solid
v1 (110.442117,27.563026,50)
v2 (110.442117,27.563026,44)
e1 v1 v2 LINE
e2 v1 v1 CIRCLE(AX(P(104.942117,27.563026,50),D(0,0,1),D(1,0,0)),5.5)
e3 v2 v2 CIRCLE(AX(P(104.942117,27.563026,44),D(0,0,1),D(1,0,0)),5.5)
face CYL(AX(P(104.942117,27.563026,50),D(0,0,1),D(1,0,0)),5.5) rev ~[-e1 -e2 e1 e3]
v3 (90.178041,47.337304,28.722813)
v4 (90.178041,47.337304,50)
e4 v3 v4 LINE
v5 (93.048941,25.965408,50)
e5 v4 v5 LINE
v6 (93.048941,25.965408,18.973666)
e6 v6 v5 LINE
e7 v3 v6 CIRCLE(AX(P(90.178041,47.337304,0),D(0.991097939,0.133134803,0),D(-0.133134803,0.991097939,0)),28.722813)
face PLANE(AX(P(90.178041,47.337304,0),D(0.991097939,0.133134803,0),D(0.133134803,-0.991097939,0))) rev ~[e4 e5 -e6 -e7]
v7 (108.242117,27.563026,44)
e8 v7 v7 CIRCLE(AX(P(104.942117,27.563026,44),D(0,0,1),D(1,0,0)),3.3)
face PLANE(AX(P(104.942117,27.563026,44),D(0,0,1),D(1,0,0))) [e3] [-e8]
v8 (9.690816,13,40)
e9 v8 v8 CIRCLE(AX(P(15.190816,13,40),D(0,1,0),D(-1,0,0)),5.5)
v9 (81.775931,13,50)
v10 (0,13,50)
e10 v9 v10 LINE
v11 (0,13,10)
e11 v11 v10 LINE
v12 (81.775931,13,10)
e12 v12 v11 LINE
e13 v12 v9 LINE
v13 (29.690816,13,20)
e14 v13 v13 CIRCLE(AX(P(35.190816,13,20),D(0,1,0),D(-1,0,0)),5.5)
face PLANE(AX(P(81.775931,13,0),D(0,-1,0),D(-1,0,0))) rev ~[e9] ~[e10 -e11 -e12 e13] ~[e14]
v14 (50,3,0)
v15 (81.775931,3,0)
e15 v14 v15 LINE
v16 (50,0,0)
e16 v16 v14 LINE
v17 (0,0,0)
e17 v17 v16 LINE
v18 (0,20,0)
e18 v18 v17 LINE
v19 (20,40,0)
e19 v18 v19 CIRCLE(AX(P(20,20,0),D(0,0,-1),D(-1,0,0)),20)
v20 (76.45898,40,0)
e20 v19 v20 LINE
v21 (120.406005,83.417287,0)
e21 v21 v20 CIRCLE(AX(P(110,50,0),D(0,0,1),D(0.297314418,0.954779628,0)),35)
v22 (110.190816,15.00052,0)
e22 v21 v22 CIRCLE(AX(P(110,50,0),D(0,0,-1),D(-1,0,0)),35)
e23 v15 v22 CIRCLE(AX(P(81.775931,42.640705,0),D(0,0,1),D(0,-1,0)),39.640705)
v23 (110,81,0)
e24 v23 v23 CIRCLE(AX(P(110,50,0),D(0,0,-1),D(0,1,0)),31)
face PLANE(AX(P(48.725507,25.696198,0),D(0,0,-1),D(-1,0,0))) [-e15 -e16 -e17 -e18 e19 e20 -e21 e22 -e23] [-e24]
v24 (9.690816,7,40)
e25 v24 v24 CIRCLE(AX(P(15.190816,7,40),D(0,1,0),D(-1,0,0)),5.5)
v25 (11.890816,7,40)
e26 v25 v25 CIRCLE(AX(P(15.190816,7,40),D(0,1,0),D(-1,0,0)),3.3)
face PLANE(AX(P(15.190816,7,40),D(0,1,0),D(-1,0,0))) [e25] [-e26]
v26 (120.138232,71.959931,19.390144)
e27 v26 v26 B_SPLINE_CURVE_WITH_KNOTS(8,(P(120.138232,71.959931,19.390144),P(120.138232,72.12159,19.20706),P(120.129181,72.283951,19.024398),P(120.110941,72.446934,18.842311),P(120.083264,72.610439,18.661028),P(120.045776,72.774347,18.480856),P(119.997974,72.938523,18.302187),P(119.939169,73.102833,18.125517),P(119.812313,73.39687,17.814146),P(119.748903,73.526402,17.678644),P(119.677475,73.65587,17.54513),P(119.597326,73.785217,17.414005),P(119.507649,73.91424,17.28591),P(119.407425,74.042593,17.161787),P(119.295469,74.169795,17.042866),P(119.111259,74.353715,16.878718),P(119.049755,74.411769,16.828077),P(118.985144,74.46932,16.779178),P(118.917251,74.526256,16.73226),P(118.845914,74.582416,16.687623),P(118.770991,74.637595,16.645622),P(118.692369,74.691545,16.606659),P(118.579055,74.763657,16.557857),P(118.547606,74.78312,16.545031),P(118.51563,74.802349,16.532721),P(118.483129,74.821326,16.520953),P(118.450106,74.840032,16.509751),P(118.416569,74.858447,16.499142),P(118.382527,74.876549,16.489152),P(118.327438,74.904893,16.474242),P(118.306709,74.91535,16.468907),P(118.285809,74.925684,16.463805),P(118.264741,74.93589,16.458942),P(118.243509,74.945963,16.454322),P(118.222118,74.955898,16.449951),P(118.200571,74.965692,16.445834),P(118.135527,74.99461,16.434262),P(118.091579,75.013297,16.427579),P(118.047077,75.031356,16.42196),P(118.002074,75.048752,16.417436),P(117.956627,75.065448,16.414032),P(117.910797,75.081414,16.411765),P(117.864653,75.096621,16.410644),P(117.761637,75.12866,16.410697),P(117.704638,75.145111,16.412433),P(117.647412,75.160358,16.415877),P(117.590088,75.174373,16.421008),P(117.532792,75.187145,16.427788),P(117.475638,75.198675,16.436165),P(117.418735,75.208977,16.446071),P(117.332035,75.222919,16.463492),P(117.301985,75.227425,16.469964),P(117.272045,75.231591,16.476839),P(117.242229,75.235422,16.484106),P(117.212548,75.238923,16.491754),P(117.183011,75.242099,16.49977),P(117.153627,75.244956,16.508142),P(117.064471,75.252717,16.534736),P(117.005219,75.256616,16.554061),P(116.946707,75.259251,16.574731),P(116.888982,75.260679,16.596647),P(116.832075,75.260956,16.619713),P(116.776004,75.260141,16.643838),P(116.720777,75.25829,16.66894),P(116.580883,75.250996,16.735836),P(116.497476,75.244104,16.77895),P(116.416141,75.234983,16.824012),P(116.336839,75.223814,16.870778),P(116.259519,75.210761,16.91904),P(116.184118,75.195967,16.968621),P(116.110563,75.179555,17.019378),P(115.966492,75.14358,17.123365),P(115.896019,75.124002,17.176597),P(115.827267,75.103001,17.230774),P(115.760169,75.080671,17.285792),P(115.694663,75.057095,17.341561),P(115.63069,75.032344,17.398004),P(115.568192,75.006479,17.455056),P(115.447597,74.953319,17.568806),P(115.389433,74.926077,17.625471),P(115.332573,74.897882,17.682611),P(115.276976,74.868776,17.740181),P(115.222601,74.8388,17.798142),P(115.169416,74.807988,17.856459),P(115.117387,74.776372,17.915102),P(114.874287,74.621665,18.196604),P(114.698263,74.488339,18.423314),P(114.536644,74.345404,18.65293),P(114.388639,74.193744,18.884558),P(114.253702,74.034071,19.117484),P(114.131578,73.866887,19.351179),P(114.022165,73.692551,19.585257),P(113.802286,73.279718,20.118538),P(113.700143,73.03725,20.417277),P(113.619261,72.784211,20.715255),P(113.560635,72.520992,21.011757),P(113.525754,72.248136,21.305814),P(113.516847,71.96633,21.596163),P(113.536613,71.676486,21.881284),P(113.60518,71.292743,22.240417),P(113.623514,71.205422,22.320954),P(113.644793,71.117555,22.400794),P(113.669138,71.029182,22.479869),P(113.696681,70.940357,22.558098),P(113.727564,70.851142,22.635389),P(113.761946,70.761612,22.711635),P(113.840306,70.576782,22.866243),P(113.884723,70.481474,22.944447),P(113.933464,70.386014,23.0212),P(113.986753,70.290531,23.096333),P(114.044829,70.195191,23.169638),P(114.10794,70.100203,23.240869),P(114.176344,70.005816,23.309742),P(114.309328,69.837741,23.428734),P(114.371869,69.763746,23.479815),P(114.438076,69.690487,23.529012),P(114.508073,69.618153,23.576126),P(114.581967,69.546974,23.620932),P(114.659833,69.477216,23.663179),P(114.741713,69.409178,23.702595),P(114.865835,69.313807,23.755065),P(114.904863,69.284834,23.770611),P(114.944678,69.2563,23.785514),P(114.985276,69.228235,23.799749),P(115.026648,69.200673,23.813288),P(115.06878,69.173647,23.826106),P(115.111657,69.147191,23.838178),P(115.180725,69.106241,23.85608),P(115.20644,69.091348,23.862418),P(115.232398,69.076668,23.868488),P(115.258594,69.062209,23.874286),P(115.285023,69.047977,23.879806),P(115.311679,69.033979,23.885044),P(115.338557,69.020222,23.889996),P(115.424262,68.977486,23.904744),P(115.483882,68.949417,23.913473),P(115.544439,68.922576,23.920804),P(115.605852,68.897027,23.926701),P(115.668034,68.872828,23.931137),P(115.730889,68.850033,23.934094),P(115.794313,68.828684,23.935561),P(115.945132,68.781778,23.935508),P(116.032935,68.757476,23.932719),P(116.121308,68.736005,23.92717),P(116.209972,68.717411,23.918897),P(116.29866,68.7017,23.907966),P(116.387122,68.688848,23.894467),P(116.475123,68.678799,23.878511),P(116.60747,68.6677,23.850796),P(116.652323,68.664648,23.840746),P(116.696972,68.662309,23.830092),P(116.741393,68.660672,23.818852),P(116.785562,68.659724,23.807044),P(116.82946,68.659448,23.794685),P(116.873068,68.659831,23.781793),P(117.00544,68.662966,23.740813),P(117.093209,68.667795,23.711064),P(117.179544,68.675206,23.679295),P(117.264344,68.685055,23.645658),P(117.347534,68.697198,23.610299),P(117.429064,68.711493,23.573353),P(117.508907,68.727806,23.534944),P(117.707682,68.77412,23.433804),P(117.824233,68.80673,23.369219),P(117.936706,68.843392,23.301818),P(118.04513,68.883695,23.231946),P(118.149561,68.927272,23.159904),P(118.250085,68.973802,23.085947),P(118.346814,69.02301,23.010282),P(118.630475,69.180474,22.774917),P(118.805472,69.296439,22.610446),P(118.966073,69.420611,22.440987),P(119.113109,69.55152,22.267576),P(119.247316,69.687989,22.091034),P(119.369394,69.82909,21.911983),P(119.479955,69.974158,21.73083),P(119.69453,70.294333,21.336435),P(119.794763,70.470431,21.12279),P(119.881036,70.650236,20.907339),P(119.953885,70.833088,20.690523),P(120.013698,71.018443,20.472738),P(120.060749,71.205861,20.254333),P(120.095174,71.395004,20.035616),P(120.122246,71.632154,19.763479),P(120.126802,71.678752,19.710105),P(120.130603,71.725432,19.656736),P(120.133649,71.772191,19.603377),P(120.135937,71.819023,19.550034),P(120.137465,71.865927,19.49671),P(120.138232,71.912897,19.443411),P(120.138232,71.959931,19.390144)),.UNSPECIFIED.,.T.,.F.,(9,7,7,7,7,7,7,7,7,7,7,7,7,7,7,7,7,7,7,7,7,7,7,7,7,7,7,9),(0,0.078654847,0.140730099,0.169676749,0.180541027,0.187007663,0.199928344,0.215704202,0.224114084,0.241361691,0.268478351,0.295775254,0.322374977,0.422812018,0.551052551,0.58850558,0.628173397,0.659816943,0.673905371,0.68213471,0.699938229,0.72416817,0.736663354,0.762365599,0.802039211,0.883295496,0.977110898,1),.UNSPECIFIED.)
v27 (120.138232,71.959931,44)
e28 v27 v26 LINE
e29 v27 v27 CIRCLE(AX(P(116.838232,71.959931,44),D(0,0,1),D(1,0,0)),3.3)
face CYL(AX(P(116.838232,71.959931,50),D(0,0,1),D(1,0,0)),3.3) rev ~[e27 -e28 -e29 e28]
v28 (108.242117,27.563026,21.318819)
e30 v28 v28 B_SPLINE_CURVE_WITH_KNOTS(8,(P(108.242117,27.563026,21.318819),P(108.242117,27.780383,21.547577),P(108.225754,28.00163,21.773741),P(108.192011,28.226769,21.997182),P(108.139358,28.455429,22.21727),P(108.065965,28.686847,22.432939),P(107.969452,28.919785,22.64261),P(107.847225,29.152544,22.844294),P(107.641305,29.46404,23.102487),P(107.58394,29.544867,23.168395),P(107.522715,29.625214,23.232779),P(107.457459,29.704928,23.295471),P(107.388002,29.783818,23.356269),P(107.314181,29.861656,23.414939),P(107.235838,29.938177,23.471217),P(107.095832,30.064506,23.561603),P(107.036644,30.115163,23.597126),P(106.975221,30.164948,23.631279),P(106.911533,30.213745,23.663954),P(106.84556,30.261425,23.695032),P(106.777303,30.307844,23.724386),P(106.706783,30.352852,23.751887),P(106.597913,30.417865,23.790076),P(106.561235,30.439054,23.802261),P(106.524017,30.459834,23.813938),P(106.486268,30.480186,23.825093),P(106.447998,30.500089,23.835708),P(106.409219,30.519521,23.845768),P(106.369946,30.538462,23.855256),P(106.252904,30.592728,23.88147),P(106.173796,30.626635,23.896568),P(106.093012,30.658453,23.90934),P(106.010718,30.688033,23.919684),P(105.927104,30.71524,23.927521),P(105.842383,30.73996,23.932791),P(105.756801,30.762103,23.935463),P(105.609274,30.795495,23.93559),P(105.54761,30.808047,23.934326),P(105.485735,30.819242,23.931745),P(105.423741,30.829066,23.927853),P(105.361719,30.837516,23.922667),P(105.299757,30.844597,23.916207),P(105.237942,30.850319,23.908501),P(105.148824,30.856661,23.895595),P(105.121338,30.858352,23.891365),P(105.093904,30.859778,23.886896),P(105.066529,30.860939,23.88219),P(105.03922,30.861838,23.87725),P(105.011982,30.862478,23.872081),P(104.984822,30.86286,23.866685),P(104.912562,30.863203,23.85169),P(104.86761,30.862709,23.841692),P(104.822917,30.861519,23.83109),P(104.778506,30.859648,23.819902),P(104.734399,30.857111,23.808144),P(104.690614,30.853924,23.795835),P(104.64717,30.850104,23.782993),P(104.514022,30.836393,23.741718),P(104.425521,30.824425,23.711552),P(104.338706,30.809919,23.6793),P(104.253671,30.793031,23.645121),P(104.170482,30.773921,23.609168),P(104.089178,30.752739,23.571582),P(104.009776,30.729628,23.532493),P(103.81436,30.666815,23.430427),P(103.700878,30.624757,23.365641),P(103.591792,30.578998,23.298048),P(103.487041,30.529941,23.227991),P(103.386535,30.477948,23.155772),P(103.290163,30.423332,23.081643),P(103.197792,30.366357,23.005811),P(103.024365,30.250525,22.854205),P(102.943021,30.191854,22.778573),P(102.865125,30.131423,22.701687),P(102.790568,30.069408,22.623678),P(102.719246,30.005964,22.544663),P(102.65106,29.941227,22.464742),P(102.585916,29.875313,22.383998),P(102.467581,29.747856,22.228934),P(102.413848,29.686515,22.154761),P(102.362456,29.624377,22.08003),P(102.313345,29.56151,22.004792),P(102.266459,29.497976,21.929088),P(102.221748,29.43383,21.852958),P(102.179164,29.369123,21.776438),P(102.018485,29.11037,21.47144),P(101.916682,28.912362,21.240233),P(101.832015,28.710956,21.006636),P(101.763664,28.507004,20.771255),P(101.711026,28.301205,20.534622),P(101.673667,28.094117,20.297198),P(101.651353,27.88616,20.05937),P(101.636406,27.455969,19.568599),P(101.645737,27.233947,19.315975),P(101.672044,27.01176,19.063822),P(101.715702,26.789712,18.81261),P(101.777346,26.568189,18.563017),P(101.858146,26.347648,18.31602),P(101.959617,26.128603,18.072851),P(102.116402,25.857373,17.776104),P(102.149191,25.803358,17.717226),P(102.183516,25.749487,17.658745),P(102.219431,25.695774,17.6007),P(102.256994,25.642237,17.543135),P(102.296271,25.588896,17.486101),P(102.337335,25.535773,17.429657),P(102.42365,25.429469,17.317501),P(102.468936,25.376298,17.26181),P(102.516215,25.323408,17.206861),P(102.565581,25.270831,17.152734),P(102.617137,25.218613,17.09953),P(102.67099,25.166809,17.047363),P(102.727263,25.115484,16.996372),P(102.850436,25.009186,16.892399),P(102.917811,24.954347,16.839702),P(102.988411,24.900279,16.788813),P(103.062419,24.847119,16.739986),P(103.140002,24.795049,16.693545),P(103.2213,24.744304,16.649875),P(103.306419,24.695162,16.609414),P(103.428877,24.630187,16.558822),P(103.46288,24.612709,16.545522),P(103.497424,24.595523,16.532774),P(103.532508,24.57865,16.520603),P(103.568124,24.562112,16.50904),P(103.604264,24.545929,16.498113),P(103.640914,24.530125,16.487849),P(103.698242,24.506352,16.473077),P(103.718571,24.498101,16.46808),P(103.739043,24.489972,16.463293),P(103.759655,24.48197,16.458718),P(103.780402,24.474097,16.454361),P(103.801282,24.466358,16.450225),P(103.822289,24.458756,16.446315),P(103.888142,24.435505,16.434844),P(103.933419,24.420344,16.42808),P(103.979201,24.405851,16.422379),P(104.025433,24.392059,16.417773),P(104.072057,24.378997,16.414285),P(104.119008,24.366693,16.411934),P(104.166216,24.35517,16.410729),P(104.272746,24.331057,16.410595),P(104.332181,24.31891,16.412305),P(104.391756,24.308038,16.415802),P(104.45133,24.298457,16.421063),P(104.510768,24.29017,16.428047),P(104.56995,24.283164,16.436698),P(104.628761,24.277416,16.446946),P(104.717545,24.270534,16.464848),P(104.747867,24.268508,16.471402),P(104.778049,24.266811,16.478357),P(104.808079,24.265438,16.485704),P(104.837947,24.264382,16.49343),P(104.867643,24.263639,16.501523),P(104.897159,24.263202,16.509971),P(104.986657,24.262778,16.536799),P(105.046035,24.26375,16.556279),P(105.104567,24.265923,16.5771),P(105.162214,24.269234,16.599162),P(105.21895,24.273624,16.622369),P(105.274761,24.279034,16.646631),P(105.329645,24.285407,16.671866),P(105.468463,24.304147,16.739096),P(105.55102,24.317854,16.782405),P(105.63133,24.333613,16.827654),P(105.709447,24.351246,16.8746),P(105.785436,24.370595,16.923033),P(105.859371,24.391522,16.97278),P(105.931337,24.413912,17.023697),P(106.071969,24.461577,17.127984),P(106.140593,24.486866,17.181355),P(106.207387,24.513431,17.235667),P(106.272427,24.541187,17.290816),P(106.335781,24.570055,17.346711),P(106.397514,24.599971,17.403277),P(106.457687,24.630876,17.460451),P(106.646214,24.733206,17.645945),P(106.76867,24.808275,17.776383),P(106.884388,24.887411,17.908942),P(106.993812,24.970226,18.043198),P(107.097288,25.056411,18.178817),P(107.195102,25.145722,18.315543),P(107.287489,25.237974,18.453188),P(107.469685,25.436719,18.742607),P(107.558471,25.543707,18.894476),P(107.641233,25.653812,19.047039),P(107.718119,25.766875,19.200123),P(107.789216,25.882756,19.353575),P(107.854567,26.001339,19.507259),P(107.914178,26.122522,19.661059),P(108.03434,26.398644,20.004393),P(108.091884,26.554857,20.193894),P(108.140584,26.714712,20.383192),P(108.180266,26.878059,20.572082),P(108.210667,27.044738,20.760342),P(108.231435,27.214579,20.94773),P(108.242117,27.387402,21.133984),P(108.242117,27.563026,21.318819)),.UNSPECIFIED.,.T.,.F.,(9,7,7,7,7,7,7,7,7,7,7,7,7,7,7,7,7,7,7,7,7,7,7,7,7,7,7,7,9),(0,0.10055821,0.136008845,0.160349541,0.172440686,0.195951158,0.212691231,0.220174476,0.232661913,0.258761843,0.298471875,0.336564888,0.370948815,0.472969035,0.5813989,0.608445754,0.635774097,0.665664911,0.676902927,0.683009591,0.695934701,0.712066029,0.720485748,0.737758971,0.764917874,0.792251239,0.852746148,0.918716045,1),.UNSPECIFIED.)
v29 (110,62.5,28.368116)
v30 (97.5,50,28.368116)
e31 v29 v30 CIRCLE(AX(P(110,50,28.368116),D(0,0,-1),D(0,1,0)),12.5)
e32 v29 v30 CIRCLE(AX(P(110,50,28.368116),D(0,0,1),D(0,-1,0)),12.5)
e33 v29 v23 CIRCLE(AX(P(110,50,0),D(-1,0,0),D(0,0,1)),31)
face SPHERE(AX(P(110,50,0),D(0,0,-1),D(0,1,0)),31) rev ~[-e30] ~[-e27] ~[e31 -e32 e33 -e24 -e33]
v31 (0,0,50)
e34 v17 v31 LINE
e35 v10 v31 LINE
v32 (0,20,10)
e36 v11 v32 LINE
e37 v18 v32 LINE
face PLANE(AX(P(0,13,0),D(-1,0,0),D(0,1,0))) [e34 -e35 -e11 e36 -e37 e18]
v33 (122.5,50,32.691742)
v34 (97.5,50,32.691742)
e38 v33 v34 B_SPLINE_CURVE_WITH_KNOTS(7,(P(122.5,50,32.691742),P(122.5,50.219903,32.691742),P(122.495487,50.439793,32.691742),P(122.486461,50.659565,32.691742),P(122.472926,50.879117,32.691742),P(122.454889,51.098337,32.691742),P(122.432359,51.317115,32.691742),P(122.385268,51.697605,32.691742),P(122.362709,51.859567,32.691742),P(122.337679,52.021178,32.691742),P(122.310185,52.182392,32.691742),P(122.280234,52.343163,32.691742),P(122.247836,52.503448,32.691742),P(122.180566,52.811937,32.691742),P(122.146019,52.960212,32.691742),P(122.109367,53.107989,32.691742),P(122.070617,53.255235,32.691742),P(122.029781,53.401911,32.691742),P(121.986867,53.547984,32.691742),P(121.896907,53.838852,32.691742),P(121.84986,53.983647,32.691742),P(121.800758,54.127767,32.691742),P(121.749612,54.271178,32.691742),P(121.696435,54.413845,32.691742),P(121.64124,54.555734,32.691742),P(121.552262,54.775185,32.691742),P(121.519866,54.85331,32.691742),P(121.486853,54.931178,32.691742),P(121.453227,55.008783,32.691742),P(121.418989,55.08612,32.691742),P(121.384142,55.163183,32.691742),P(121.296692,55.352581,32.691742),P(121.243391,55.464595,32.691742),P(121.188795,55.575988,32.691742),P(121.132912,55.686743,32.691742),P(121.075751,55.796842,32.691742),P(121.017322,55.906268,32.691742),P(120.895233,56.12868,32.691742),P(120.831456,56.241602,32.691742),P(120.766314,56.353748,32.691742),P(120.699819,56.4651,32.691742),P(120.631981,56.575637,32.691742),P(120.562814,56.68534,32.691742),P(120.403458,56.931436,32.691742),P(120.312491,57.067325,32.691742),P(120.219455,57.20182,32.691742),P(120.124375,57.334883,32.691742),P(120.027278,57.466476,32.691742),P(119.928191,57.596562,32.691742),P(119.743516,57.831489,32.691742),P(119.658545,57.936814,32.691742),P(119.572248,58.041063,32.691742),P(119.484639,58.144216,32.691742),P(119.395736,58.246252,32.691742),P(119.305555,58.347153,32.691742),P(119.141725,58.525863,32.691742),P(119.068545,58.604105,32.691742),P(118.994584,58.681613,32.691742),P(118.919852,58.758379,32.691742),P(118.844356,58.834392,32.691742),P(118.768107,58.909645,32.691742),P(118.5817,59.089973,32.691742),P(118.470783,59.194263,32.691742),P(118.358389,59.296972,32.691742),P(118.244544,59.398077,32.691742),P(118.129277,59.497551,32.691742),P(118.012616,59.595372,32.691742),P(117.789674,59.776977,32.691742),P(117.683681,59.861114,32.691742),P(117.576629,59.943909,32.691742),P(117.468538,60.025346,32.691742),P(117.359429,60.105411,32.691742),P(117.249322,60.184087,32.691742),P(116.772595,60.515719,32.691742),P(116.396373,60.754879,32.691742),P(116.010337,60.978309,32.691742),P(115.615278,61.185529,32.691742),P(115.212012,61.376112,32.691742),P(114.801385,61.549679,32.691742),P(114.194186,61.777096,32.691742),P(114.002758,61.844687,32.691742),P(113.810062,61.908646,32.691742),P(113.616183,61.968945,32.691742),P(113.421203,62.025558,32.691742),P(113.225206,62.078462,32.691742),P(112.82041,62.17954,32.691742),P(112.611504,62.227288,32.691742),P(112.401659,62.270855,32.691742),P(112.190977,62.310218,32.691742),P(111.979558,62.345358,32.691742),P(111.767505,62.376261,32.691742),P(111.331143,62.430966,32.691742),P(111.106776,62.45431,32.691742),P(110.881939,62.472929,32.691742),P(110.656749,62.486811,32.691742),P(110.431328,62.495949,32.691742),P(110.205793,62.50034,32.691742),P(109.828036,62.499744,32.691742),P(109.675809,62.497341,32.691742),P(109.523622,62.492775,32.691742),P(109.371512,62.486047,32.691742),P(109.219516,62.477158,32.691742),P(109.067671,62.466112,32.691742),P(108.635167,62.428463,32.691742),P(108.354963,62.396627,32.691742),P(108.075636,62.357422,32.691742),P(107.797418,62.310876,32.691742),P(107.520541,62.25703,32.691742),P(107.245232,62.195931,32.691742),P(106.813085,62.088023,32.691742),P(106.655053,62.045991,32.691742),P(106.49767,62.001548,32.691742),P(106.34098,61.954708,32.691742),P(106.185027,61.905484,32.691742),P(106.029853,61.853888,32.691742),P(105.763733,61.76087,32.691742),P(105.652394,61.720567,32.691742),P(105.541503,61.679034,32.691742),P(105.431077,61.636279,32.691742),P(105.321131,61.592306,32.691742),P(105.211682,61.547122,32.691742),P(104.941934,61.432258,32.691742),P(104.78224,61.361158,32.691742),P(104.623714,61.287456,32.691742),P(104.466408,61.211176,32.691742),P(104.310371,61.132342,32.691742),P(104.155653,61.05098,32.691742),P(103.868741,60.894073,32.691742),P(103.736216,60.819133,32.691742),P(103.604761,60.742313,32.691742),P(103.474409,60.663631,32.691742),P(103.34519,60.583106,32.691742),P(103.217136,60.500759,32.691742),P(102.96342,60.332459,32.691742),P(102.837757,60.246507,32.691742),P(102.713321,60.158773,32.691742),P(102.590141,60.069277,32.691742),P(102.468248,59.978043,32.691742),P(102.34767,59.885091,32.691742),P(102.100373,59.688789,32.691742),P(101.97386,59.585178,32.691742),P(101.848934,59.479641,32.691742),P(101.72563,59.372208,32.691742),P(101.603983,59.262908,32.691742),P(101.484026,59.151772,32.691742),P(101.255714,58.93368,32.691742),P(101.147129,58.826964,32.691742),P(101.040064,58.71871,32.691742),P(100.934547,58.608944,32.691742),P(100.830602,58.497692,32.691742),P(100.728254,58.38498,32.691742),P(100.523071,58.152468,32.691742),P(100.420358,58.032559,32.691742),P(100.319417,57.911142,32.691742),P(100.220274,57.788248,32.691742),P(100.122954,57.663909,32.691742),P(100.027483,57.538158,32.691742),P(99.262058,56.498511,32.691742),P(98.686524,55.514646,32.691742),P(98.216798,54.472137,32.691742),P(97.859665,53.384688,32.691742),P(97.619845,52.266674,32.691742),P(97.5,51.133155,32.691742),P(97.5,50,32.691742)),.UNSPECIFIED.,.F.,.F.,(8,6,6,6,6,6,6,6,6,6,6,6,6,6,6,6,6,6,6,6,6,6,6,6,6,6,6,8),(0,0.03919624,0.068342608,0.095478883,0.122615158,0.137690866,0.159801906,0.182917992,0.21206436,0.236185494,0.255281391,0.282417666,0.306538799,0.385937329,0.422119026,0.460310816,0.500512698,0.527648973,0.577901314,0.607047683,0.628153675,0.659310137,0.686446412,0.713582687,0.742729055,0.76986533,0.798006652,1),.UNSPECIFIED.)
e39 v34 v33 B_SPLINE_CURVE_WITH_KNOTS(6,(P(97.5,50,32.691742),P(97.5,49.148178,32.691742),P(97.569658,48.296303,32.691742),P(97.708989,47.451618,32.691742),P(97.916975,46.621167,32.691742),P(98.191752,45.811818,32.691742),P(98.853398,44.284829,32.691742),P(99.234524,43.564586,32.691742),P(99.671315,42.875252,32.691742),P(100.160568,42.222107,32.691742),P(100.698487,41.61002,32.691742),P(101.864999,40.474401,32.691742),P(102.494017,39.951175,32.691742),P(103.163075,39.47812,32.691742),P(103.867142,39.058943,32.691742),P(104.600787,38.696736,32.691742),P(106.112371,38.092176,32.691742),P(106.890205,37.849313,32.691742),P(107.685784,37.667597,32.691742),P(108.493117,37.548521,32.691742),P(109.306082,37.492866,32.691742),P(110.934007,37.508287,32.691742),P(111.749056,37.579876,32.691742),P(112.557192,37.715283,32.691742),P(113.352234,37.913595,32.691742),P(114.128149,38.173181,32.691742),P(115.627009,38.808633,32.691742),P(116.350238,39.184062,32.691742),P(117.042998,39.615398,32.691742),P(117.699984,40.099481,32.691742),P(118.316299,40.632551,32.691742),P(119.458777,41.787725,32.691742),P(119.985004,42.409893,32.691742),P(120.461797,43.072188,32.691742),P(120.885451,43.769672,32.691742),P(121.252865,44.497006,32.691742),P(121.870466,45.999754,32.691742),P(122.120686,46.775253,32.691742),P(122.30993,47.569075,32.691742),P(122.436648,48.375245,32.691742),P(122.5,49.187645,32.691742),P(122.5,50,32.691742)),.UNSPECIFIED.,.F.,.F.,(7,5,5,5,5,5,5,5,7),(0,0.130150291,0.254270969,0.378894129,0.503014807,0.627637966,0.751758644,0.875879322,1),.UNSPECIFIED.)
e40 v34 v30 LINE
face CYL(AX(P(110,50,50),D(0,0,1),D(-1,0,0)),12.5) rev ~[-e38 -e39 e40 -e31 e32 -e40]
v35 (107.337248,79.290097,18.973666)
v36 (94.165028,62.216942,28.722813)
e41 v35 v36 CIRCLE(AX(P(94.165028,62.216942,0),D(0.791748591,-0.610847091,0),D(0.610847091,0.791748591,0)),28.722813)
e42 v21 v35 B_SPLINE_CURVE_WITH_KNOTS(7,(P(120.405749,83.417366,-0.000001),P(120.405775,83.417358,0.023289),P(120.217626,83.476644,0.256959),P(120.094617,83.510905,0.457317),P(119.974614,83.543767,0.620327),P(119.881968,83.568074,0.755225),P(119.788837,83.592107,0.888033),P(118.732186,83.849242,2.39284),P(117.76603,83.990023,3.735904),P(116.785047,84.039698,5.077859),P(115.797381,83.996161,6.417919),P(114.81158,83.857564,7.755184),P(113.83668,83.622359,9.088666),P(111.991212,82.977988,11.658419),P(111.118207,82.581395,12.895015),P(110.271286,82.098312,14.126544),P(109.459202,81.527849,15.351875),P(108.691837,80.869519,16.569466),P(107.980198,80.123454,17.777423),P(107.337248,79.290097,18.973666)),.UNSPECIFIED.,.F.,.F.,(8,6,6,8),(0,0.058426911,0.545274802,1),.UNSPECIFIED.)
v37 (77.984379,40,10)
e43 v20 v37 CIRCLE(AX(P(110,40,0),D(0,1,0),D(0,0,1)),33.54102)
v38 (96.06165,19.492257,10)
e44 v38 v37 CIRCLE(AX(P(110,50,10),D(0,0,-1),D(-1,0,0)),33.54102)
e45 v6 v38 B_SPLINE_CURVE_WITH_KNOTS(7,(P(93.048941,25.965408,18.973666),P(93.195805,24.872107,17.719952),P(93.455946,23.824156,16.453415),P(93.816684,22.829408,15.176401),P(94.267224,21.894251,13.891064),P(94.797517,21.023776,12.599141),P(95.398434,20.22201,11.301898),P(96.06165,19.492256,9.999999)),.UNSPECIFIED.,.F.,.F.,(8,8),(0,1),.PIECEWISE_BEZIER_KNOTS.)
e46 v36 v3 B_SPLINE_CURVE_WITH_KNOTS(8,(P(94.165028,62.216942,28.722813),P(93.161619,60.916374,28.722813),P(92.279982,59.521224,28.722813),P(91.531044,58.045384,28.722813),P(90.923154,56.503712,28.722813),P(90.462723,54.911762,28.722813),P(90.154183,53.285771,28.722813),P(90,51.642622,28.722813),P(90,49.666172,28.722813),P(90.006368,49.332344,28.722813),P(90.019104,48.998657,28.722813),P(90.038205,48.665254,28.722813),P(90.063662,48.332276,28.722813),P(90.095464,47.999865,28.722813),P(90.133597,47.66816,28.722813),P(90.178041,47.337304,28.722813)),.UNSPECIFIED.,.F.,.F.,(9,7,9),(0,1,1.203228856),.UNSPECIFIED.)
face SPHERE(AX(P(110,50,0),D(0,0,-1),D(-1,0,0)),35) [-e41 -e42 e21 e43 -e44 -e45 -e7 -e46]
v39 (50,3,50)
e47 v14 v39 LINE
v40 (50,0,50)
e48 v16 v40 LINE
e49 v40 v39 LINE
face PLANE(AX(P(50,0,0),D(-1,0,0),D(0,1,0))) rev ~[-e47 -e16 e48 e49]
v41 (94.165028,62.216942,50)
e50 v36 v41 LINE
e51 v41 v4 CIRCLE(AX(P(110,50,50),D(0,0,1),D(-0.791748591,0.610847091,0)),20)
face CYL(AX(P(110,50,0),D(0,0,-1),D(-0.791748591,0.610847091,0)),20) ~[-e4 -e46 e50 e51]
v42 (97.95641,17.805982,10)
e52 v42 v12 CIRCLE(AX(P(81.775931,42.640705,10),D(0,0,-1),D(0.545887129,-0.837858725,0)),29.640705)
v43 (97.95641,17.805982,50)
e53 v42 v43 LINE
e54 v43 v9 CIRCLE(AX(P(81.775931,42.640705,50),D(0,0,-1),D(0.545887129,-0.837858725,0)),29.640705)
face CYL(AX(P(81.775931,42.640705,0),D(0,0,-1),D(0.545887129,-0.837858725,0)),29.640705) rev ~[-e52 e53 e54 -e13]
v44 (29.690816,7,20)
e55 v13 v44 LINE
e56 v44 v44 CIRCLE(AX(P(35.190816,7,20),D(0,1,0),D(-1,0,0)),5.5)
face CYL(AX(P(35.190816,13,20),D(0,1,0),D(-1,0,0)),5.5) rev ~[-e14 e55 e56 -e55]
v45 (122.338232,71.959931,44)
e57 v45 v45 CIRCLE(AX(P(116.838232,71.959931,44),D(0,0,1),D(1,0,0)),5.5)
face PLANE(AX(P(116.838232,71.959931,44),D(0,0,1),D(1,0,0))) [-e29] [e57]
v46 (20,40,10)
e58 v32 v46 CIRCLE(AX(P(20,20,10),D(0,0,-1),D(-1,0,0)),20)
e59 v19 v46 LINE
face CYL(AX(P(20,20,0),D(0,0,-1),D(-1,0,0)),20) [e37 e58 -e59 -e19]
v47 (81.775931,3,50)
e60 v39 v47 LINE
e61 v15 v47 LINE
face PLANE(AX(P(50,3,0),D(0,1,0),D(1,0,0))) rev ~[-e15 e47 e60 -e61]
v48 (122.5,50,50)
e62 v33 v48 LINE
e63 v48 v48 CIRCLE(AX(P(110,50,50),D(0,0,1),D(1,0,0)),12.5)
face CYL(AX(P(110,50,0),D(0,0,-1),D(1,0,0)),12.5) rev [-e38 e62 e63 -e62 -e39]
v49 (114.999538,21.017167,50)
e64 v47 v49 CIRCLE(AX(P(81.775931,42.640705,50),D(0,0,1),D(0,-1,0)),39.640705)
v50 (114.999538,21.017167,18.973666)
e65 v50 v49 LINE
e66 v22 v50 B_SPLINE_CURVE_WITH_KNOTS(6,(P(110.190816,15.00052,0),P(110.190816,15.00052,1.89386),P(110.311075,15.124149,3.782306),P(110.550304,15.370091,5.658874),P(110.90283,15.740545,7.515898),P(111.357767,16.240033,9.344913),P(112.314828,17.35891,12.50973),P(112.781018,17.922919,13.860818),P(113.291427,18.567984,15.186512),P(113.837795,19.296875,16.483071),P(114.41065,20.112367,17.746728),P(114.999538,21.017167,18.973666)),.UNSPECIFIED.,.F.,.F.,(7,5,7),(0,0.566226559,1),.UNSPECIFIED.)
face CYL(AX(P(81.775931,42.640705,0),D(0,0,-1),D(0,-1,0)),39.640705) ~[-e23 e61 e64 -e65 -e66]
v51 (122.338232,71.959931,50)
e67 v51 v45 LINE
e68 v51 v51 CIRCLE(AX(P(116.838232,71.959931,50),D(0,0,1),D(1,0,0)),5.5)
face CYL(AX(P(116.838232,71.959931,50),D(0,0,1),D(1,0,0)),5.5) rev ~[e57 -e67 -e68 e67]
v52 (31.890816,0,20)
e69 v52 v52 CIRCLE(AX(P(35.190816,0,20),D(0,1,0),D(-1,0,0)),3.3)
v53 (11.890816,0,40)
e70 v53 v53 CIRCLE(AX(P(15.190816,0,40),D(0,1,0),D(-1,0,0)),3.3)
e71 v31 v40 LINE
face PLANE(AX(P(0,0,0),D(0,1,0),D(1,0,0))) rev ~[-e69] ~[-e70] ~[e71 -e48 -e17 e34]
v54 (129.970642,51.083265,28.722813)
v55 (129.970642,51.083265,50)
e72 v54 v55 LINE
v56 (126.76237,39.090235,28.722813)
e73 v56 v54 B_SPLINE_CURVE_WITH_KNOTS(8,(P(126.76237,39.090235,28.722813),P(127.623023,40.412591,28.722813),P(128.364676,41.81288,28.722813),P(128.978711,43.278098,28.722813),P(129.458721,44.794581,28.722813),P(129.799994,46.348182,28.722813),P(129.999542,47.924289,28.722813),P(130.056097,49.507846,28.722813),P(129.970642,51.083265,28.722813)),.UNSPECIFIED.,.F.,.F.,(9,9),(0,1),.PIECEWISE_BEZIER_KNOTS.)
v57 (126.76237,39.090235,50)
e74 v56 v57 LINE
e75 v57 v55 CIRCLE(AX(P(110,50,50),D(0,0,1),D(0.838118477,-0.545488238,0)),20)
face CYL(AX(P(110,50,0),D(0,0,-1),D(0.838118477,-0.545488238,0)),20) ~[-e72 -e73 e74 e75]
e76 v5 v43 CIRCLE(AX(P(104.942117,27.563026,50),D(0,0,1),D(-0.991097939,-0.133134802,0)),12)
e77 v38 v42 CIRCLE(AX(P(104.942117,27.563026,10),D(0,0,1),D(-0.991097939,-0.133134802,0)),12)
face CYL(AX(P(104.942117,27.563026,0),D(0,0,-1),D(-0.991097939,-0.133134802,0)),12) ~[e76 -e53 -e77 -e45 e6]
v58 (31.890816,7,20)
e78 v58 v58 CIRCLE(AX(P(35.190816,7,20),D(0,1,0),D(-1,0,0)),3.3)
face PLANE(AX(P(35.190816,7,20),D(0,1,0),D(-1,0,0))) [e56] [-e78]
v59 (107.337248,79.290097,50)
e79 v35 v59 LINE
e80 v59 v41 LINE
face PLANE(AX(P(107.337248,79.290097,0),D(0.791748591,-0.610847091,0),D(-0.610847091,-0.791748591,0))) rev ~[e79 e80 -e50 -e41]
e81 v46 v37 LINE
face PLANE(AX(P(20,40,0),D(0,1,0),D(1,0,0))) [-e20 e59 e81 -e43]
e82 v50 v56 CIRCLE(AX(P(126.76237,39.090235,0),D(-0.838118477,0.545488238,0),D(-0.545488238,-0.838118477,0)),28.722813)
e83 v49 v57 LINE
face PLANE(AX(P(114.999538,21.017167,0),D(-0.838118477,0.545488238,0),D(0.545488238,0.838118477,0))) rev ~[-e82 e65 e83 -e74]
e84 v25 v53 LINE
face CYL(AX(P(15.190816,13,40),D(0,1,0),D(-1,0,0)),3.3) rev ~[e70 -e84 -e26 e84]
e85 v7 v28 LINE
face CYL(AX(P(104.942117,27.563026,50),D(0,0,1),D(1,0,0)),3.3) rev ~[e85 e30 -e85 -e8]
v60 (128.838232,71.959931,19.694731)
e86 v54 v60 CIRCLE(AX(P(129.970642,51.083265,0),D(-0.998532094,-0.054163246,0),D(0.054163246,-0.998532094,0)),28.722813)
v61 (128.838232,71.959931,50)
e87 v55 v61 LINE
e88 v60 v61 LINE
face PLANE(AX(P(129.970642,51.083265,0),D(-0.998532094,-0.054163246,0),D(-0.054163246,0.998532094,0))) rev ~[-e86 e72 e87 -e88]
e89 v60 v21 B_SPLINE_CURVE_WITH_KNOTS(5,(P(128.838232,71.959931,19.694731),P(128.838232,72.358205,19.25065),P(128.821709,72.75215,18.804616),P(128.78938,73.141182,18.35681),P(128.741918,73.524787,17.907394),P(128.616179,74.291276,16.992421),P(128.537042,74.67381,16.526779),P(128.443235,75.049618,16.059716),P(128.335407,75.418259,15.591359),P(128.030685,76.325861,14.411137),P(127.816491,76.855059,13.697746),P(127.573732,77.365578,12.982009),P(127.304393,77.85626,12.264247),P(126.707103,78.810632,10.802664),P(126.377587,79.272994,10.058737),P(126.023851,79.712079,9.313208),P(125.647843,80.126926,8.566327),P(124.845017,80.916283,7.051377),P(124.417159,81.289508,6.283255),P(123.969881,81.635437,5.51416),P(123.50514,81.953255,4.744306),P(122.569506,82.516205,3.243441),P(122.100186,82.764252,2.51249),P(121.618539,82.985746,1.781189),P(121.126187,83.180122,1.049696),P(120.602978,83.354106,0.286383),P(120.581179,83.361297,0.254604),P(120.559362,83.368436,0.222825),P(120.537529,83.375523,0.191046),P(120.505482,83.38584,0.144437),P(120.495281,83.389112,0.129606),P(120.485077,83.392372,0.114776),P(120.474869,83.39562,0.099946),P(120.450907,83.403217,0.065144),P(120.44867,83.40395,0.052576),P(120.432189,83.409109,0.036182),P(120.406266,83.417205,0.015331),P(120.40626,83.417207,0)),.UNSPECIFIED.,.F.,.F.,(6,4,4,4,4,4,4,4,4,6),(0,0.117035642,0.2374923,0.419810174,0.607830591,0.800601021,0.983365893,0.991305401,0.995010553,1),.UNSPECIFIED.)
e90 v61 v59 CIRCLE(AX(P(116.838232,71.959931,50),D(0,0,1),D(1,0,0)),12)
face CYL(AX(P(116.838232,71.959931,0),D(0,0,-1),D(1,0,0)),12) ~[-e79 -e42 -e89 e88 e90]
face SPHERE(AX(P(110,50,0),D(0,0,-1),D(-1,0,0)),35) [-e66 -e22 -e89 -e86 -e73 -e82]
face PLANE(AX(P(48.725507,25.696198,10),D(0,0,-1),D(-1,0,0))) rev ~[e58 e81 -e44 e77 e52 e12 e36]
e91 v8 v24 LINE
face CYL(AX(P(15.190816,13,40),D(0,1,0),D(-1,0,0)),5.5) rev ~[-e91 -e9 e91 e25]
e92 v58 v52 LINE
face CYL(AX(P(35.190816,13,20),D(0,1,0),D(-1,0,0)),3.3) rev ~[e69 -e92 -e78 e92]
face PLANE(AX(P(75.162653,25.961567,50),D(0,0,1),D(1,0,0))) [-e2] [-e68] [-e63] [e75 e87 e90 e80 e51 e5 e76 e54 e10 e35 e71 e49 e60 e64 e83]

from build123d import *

# Parameters (mm, degrees)
SKETCH1_R               = 12.5
SKETCH1_R_2             = 5.5
BOSS_EXTRUDE1_DEPTH     = 50
SKETCH3_R               = 5.5
CUT_EXTRUDE2_DEPTH      = 6
BOSS_EXTRUDE2_DEPTH     = 10
CUT_EXTRUDE3_REACH      = 177.357
CUT_EXTRUDE3_END_RADIUS = 31
SKETCH8_R               = 12.5
SKETCH8_R_2             = 3.3
SKETCH9_R               = 5.5
CUT_EXTRUDE4_DEPTH      = 6
SKETCH11_R              = 3.3
CUT_EXTRUDE5_DEPTH      = 170.437304068


with BuildPart() as part:
    # Sketch1 → Boss-Extrude1 (new body)
    # profile 1 of 3: a face of its own
    with BuildSketch(Plane.XY):
        with BuildLine():
            ThreePointArc((93.048941287, 25.965408086), (94.65877554, 21.378133023), (97.956410185, 17.805981771))
            ThreePointArc((97.956410185, 17.805981771), (90.215500805, 14.226887077), (81.775930618, 13))
            Line((81.775930618, 13), (0, 13))
            Line((0, 13), (0, 0))
            Line((0, 0), (50, 0))
            Line((50, 0), (50, 3))
            Line((50, 3), (81.775930618, 3))
            ThreePointArc((81.775930618, 3), (100.673195021, 7.794200226), (114.99953828, 21.017166857))
            Line((114.99953828, 21.017166857), (126.762369546, 39.090235236))
            ThreePointArc((126.762369546, 39.090235236), (129.32062945, 44.831511086), (129.970641881, 51.083264917))
            Line((129.970641881, 51.083264917), (128.838231587, 71.959931438))
            ThreePointArc((128.838231587, 71.959931438), (120.710453355, 83.318007797), (107.33724849, 79.290096524))
            Line((107.33724849, 79.290096524), (94.165028172, 62.21694181))
            ThreePointArc((94.165028172, 62.21694181), (90.681483474, 55.176380902), (90.178041223, 47.33730395))
            Line((90.178041223, 47.33730395), (93.048941287, 25.965408086))
        make_face()
        with Locations((110, 50)):
            Circle(SKETCH1_R, mode=Mode.SUBTRACT)
        with Locations((116.838231587, 71.959931438)):
            Circle(SKETCH1_R_2, mode=Mode.SUBTRACT)
        with Locations((104.942116553, 27.563025716)):
            Circle(SKETCH1_R_2, mode=Mode.SUBTRACT)
    # profile 2 of 3: a face of its own
    with BuildSketch(Plane.XY):
        with Locations((116.838231587, 71.959931438)):
            Circle(SKETCH1_R_2)
    # profile 3 of 3: a face of its own
    with BuildSketch(Plane.XY):
        with Locations((104.942116553, 27.563025716)):
            Circle(SKETCH1_R_2)
    extrude(amount=BOSS_EXTRUDE1_DEPTH)

    # Sketch3 → Cut-Extrude2 (cut)
    with BuildSketch(Plane.XY.offset(50)):
        with Locations((116.838231587, 71.959931438)):
            Circle(SKETCH3_R)
        with Locations((104.942116553, 27.563025716)):
            Circle(SKETCH3_R)
    extrude(amount=-CUT_EXTRUDE2_DEPTH, mode=Mode.SUBTRACT)

    # Sketch5 → Boss-Extrude2 (add)
    with BuildSketch(Plane(origin=(0, 0, 0), x_dir=(-1, 0, 0), z_dir=(0, 0, -1))):
        with BuildLine():
            Line((-81.775930618, 13), (0, 13))
            Line((0, 13), (0, 20))
            ThreePointArc((0, 20), (-5.857864376, 34.142135624), (-20, 40))
            Line((-20, 40), (-76.458980338, 40))
            Line((-76.458980338, 40), (-80.657198498, 40))
            Line((-80.657198498, 40), (-91.163665826, 40))
            Line((-91.163665826, 40), (-93.048941287, 25.965408086))
            ThreePointArc((-93.048941287, 25.965408086), (-94.65877554, 21.378133023), (-97.956410185, 17.805981771))
            ThreePointArc((-97.956410185, 17.805981771), (-90.215500805, 14.226887077), (-81.775930618, 13))
        make_face()
    extrude(amount=-BOSS_EXTRUDE2_DEPTH)

    # Sketch6 → Revolve2 (revolve)
    with BuildSketch(Plane.ZY.offset(-110), mode=Mode.PRIVATE) as revolve2_sk:
        with BuildLine():
            ThreePointArc((31, 50), (21.920310217, 71.920310217), (0, 81))
            Line((0, 81), (0, 50))
            Line((0, 50), (31, 50))
        make_face()
        with BuildLine():
            Line((0, 85), (0, 81))
            ThreePointArc((0, 81), (21.920310217, 71.920310217), (31, 50))
            Line((31, 50), (35, 50))
            ThreePointArc((35, 50), (24.748737342, 74.748737342), (0, 85))
        make_face()
    revolve(revolve2_sk.sketch.rotate(Axis((110, 50, 35), (0, 0, -1)), 270), axis=Axis((110, 50, 35), (0, 0, -1)))

    # Sketch6<5> → Cut-Revolve3 (revolve, cut)
    with BuildSketch(Plane.ZY.offset(-110)):
        with BuildLine():
            ThreePointArc((31, 50), (21.920310217, 71.920310217), (0, 81))
            Line((0, 81), (0, 50))
            Line((0, 50), (31, 50))
        make_face()
    revolve(axis=Axis((110, 50, 35), (0, 0, -1)), mode=Mode.SUBTRACT)

    # Cut-Extrude3: up to this sphere (the profile starts outside it)
    cut_extrude3_end = Location((110, 50, 0)) * Sphere(CUT_EXTRUDE3_END_RADIUS, mode=Mode.PRIVATE)
    # Sketch8 → Cut-Extrude3 (cut, up to the surface)
    with BuildSketch(Plane.XY.offset(50), mode=Mode.PRIVATE) as cut_extrude3_sk1:
        with Locations(Location((110, 50, 0), (0, 0, 180))):
            Circle(SKETCH8_R)
    cut_extrude3_tool1 = extrude(cut_extrude3_sk1.sketch, amount=-CUT_EXTRUDE3_REACH, mode=Mode.PRIVATE) - cut_extrude3_end
    add(cut_extrude3_tool1.solids().sort_by_distance((110, 50, 50))[0], mode=Mode.SUBTRACT)
    # Sketch8 → Cut-Extrude3 (cut, up to the surface)
    with BuildSketch(Plane.XY.offset(50), mode=Mode.PRIVATE) as cut_extrude3_sk2:
        with Locations((116.838231587, 71.959931438)):
            Circle(SKETCH8_R_2)
    cut_extrude3_tool2 = extrude(cut_extrude3_sk2.sketch, amount=-CUT_EXTRUDE3_REACH, mode=Mode.PRIVATE) - cut_extrude3_end
    add(cut_extrude3_tool2.solids().sort_by_distance((116.838232, 71.959931, 50))[0], mode=Mode.SUBTRACT)
    # Sketch8 → Cut-Extrude3 (cut, up to the surface)
    with BuildSketch(Plane.XY.offset(50), mode=Mode.PRIVATE) as cut_extrude3_sk3:
        with Locations((104.942116553, 27.563025716)):
            Circle(SKETCH8_R_2)
    cut_extrude3_tool3 = extrude(cut_extrude3_sk3.sketch, amount=-CUT_EXTRUDE3_REACH, mode=Mode.PRIVATE) - cut_extrude3_end
    add(cut_extrude3_tool3.solids().sort_by_distance((104.942117, 27.563026, 50))[0], mode=Mode.SUBTRACT)

    # Sketch9 → Cut-Extrude4 (cut)
    with BuildSketch(Plane(origin=(0, 13, 0), x_dir=(1, 0, 0), z_dir=(0, 1, 0))):
        with Locations(Location((15.190815531, -40, 0), (0, 0, 180))):
            Circle(SKETCH9_R)
        with Locations(Location((35.190815531, -20, 0), (0, 0, 180))):
            Circle(SKETCH9_R)
    extrude(amount=-CUT_EXTRUDE4_DEPTH, mode=Mode.SUBTRACT)

    # Sketch11 → Cut-Extrude5 (cut, through all)
    with BuildSketch(Plane(origin=(0, 13, 0), x_dir=(1, 0, 0), z_dir=(0, 1, 0))):
        with Locations(Location((35.190815531, -20, 0), (0, 0, 180))):
            Circle(SKETCH11_R)
        with Locations(Location((15.190815531, -40, 0), (0, 0, 180))):
            Circle(SKETCH11_R)
    extrude(amount=-CUT_EXTRUDE5_DEPTH, mode=Mode.SUBTRACT)


solid = part.part
